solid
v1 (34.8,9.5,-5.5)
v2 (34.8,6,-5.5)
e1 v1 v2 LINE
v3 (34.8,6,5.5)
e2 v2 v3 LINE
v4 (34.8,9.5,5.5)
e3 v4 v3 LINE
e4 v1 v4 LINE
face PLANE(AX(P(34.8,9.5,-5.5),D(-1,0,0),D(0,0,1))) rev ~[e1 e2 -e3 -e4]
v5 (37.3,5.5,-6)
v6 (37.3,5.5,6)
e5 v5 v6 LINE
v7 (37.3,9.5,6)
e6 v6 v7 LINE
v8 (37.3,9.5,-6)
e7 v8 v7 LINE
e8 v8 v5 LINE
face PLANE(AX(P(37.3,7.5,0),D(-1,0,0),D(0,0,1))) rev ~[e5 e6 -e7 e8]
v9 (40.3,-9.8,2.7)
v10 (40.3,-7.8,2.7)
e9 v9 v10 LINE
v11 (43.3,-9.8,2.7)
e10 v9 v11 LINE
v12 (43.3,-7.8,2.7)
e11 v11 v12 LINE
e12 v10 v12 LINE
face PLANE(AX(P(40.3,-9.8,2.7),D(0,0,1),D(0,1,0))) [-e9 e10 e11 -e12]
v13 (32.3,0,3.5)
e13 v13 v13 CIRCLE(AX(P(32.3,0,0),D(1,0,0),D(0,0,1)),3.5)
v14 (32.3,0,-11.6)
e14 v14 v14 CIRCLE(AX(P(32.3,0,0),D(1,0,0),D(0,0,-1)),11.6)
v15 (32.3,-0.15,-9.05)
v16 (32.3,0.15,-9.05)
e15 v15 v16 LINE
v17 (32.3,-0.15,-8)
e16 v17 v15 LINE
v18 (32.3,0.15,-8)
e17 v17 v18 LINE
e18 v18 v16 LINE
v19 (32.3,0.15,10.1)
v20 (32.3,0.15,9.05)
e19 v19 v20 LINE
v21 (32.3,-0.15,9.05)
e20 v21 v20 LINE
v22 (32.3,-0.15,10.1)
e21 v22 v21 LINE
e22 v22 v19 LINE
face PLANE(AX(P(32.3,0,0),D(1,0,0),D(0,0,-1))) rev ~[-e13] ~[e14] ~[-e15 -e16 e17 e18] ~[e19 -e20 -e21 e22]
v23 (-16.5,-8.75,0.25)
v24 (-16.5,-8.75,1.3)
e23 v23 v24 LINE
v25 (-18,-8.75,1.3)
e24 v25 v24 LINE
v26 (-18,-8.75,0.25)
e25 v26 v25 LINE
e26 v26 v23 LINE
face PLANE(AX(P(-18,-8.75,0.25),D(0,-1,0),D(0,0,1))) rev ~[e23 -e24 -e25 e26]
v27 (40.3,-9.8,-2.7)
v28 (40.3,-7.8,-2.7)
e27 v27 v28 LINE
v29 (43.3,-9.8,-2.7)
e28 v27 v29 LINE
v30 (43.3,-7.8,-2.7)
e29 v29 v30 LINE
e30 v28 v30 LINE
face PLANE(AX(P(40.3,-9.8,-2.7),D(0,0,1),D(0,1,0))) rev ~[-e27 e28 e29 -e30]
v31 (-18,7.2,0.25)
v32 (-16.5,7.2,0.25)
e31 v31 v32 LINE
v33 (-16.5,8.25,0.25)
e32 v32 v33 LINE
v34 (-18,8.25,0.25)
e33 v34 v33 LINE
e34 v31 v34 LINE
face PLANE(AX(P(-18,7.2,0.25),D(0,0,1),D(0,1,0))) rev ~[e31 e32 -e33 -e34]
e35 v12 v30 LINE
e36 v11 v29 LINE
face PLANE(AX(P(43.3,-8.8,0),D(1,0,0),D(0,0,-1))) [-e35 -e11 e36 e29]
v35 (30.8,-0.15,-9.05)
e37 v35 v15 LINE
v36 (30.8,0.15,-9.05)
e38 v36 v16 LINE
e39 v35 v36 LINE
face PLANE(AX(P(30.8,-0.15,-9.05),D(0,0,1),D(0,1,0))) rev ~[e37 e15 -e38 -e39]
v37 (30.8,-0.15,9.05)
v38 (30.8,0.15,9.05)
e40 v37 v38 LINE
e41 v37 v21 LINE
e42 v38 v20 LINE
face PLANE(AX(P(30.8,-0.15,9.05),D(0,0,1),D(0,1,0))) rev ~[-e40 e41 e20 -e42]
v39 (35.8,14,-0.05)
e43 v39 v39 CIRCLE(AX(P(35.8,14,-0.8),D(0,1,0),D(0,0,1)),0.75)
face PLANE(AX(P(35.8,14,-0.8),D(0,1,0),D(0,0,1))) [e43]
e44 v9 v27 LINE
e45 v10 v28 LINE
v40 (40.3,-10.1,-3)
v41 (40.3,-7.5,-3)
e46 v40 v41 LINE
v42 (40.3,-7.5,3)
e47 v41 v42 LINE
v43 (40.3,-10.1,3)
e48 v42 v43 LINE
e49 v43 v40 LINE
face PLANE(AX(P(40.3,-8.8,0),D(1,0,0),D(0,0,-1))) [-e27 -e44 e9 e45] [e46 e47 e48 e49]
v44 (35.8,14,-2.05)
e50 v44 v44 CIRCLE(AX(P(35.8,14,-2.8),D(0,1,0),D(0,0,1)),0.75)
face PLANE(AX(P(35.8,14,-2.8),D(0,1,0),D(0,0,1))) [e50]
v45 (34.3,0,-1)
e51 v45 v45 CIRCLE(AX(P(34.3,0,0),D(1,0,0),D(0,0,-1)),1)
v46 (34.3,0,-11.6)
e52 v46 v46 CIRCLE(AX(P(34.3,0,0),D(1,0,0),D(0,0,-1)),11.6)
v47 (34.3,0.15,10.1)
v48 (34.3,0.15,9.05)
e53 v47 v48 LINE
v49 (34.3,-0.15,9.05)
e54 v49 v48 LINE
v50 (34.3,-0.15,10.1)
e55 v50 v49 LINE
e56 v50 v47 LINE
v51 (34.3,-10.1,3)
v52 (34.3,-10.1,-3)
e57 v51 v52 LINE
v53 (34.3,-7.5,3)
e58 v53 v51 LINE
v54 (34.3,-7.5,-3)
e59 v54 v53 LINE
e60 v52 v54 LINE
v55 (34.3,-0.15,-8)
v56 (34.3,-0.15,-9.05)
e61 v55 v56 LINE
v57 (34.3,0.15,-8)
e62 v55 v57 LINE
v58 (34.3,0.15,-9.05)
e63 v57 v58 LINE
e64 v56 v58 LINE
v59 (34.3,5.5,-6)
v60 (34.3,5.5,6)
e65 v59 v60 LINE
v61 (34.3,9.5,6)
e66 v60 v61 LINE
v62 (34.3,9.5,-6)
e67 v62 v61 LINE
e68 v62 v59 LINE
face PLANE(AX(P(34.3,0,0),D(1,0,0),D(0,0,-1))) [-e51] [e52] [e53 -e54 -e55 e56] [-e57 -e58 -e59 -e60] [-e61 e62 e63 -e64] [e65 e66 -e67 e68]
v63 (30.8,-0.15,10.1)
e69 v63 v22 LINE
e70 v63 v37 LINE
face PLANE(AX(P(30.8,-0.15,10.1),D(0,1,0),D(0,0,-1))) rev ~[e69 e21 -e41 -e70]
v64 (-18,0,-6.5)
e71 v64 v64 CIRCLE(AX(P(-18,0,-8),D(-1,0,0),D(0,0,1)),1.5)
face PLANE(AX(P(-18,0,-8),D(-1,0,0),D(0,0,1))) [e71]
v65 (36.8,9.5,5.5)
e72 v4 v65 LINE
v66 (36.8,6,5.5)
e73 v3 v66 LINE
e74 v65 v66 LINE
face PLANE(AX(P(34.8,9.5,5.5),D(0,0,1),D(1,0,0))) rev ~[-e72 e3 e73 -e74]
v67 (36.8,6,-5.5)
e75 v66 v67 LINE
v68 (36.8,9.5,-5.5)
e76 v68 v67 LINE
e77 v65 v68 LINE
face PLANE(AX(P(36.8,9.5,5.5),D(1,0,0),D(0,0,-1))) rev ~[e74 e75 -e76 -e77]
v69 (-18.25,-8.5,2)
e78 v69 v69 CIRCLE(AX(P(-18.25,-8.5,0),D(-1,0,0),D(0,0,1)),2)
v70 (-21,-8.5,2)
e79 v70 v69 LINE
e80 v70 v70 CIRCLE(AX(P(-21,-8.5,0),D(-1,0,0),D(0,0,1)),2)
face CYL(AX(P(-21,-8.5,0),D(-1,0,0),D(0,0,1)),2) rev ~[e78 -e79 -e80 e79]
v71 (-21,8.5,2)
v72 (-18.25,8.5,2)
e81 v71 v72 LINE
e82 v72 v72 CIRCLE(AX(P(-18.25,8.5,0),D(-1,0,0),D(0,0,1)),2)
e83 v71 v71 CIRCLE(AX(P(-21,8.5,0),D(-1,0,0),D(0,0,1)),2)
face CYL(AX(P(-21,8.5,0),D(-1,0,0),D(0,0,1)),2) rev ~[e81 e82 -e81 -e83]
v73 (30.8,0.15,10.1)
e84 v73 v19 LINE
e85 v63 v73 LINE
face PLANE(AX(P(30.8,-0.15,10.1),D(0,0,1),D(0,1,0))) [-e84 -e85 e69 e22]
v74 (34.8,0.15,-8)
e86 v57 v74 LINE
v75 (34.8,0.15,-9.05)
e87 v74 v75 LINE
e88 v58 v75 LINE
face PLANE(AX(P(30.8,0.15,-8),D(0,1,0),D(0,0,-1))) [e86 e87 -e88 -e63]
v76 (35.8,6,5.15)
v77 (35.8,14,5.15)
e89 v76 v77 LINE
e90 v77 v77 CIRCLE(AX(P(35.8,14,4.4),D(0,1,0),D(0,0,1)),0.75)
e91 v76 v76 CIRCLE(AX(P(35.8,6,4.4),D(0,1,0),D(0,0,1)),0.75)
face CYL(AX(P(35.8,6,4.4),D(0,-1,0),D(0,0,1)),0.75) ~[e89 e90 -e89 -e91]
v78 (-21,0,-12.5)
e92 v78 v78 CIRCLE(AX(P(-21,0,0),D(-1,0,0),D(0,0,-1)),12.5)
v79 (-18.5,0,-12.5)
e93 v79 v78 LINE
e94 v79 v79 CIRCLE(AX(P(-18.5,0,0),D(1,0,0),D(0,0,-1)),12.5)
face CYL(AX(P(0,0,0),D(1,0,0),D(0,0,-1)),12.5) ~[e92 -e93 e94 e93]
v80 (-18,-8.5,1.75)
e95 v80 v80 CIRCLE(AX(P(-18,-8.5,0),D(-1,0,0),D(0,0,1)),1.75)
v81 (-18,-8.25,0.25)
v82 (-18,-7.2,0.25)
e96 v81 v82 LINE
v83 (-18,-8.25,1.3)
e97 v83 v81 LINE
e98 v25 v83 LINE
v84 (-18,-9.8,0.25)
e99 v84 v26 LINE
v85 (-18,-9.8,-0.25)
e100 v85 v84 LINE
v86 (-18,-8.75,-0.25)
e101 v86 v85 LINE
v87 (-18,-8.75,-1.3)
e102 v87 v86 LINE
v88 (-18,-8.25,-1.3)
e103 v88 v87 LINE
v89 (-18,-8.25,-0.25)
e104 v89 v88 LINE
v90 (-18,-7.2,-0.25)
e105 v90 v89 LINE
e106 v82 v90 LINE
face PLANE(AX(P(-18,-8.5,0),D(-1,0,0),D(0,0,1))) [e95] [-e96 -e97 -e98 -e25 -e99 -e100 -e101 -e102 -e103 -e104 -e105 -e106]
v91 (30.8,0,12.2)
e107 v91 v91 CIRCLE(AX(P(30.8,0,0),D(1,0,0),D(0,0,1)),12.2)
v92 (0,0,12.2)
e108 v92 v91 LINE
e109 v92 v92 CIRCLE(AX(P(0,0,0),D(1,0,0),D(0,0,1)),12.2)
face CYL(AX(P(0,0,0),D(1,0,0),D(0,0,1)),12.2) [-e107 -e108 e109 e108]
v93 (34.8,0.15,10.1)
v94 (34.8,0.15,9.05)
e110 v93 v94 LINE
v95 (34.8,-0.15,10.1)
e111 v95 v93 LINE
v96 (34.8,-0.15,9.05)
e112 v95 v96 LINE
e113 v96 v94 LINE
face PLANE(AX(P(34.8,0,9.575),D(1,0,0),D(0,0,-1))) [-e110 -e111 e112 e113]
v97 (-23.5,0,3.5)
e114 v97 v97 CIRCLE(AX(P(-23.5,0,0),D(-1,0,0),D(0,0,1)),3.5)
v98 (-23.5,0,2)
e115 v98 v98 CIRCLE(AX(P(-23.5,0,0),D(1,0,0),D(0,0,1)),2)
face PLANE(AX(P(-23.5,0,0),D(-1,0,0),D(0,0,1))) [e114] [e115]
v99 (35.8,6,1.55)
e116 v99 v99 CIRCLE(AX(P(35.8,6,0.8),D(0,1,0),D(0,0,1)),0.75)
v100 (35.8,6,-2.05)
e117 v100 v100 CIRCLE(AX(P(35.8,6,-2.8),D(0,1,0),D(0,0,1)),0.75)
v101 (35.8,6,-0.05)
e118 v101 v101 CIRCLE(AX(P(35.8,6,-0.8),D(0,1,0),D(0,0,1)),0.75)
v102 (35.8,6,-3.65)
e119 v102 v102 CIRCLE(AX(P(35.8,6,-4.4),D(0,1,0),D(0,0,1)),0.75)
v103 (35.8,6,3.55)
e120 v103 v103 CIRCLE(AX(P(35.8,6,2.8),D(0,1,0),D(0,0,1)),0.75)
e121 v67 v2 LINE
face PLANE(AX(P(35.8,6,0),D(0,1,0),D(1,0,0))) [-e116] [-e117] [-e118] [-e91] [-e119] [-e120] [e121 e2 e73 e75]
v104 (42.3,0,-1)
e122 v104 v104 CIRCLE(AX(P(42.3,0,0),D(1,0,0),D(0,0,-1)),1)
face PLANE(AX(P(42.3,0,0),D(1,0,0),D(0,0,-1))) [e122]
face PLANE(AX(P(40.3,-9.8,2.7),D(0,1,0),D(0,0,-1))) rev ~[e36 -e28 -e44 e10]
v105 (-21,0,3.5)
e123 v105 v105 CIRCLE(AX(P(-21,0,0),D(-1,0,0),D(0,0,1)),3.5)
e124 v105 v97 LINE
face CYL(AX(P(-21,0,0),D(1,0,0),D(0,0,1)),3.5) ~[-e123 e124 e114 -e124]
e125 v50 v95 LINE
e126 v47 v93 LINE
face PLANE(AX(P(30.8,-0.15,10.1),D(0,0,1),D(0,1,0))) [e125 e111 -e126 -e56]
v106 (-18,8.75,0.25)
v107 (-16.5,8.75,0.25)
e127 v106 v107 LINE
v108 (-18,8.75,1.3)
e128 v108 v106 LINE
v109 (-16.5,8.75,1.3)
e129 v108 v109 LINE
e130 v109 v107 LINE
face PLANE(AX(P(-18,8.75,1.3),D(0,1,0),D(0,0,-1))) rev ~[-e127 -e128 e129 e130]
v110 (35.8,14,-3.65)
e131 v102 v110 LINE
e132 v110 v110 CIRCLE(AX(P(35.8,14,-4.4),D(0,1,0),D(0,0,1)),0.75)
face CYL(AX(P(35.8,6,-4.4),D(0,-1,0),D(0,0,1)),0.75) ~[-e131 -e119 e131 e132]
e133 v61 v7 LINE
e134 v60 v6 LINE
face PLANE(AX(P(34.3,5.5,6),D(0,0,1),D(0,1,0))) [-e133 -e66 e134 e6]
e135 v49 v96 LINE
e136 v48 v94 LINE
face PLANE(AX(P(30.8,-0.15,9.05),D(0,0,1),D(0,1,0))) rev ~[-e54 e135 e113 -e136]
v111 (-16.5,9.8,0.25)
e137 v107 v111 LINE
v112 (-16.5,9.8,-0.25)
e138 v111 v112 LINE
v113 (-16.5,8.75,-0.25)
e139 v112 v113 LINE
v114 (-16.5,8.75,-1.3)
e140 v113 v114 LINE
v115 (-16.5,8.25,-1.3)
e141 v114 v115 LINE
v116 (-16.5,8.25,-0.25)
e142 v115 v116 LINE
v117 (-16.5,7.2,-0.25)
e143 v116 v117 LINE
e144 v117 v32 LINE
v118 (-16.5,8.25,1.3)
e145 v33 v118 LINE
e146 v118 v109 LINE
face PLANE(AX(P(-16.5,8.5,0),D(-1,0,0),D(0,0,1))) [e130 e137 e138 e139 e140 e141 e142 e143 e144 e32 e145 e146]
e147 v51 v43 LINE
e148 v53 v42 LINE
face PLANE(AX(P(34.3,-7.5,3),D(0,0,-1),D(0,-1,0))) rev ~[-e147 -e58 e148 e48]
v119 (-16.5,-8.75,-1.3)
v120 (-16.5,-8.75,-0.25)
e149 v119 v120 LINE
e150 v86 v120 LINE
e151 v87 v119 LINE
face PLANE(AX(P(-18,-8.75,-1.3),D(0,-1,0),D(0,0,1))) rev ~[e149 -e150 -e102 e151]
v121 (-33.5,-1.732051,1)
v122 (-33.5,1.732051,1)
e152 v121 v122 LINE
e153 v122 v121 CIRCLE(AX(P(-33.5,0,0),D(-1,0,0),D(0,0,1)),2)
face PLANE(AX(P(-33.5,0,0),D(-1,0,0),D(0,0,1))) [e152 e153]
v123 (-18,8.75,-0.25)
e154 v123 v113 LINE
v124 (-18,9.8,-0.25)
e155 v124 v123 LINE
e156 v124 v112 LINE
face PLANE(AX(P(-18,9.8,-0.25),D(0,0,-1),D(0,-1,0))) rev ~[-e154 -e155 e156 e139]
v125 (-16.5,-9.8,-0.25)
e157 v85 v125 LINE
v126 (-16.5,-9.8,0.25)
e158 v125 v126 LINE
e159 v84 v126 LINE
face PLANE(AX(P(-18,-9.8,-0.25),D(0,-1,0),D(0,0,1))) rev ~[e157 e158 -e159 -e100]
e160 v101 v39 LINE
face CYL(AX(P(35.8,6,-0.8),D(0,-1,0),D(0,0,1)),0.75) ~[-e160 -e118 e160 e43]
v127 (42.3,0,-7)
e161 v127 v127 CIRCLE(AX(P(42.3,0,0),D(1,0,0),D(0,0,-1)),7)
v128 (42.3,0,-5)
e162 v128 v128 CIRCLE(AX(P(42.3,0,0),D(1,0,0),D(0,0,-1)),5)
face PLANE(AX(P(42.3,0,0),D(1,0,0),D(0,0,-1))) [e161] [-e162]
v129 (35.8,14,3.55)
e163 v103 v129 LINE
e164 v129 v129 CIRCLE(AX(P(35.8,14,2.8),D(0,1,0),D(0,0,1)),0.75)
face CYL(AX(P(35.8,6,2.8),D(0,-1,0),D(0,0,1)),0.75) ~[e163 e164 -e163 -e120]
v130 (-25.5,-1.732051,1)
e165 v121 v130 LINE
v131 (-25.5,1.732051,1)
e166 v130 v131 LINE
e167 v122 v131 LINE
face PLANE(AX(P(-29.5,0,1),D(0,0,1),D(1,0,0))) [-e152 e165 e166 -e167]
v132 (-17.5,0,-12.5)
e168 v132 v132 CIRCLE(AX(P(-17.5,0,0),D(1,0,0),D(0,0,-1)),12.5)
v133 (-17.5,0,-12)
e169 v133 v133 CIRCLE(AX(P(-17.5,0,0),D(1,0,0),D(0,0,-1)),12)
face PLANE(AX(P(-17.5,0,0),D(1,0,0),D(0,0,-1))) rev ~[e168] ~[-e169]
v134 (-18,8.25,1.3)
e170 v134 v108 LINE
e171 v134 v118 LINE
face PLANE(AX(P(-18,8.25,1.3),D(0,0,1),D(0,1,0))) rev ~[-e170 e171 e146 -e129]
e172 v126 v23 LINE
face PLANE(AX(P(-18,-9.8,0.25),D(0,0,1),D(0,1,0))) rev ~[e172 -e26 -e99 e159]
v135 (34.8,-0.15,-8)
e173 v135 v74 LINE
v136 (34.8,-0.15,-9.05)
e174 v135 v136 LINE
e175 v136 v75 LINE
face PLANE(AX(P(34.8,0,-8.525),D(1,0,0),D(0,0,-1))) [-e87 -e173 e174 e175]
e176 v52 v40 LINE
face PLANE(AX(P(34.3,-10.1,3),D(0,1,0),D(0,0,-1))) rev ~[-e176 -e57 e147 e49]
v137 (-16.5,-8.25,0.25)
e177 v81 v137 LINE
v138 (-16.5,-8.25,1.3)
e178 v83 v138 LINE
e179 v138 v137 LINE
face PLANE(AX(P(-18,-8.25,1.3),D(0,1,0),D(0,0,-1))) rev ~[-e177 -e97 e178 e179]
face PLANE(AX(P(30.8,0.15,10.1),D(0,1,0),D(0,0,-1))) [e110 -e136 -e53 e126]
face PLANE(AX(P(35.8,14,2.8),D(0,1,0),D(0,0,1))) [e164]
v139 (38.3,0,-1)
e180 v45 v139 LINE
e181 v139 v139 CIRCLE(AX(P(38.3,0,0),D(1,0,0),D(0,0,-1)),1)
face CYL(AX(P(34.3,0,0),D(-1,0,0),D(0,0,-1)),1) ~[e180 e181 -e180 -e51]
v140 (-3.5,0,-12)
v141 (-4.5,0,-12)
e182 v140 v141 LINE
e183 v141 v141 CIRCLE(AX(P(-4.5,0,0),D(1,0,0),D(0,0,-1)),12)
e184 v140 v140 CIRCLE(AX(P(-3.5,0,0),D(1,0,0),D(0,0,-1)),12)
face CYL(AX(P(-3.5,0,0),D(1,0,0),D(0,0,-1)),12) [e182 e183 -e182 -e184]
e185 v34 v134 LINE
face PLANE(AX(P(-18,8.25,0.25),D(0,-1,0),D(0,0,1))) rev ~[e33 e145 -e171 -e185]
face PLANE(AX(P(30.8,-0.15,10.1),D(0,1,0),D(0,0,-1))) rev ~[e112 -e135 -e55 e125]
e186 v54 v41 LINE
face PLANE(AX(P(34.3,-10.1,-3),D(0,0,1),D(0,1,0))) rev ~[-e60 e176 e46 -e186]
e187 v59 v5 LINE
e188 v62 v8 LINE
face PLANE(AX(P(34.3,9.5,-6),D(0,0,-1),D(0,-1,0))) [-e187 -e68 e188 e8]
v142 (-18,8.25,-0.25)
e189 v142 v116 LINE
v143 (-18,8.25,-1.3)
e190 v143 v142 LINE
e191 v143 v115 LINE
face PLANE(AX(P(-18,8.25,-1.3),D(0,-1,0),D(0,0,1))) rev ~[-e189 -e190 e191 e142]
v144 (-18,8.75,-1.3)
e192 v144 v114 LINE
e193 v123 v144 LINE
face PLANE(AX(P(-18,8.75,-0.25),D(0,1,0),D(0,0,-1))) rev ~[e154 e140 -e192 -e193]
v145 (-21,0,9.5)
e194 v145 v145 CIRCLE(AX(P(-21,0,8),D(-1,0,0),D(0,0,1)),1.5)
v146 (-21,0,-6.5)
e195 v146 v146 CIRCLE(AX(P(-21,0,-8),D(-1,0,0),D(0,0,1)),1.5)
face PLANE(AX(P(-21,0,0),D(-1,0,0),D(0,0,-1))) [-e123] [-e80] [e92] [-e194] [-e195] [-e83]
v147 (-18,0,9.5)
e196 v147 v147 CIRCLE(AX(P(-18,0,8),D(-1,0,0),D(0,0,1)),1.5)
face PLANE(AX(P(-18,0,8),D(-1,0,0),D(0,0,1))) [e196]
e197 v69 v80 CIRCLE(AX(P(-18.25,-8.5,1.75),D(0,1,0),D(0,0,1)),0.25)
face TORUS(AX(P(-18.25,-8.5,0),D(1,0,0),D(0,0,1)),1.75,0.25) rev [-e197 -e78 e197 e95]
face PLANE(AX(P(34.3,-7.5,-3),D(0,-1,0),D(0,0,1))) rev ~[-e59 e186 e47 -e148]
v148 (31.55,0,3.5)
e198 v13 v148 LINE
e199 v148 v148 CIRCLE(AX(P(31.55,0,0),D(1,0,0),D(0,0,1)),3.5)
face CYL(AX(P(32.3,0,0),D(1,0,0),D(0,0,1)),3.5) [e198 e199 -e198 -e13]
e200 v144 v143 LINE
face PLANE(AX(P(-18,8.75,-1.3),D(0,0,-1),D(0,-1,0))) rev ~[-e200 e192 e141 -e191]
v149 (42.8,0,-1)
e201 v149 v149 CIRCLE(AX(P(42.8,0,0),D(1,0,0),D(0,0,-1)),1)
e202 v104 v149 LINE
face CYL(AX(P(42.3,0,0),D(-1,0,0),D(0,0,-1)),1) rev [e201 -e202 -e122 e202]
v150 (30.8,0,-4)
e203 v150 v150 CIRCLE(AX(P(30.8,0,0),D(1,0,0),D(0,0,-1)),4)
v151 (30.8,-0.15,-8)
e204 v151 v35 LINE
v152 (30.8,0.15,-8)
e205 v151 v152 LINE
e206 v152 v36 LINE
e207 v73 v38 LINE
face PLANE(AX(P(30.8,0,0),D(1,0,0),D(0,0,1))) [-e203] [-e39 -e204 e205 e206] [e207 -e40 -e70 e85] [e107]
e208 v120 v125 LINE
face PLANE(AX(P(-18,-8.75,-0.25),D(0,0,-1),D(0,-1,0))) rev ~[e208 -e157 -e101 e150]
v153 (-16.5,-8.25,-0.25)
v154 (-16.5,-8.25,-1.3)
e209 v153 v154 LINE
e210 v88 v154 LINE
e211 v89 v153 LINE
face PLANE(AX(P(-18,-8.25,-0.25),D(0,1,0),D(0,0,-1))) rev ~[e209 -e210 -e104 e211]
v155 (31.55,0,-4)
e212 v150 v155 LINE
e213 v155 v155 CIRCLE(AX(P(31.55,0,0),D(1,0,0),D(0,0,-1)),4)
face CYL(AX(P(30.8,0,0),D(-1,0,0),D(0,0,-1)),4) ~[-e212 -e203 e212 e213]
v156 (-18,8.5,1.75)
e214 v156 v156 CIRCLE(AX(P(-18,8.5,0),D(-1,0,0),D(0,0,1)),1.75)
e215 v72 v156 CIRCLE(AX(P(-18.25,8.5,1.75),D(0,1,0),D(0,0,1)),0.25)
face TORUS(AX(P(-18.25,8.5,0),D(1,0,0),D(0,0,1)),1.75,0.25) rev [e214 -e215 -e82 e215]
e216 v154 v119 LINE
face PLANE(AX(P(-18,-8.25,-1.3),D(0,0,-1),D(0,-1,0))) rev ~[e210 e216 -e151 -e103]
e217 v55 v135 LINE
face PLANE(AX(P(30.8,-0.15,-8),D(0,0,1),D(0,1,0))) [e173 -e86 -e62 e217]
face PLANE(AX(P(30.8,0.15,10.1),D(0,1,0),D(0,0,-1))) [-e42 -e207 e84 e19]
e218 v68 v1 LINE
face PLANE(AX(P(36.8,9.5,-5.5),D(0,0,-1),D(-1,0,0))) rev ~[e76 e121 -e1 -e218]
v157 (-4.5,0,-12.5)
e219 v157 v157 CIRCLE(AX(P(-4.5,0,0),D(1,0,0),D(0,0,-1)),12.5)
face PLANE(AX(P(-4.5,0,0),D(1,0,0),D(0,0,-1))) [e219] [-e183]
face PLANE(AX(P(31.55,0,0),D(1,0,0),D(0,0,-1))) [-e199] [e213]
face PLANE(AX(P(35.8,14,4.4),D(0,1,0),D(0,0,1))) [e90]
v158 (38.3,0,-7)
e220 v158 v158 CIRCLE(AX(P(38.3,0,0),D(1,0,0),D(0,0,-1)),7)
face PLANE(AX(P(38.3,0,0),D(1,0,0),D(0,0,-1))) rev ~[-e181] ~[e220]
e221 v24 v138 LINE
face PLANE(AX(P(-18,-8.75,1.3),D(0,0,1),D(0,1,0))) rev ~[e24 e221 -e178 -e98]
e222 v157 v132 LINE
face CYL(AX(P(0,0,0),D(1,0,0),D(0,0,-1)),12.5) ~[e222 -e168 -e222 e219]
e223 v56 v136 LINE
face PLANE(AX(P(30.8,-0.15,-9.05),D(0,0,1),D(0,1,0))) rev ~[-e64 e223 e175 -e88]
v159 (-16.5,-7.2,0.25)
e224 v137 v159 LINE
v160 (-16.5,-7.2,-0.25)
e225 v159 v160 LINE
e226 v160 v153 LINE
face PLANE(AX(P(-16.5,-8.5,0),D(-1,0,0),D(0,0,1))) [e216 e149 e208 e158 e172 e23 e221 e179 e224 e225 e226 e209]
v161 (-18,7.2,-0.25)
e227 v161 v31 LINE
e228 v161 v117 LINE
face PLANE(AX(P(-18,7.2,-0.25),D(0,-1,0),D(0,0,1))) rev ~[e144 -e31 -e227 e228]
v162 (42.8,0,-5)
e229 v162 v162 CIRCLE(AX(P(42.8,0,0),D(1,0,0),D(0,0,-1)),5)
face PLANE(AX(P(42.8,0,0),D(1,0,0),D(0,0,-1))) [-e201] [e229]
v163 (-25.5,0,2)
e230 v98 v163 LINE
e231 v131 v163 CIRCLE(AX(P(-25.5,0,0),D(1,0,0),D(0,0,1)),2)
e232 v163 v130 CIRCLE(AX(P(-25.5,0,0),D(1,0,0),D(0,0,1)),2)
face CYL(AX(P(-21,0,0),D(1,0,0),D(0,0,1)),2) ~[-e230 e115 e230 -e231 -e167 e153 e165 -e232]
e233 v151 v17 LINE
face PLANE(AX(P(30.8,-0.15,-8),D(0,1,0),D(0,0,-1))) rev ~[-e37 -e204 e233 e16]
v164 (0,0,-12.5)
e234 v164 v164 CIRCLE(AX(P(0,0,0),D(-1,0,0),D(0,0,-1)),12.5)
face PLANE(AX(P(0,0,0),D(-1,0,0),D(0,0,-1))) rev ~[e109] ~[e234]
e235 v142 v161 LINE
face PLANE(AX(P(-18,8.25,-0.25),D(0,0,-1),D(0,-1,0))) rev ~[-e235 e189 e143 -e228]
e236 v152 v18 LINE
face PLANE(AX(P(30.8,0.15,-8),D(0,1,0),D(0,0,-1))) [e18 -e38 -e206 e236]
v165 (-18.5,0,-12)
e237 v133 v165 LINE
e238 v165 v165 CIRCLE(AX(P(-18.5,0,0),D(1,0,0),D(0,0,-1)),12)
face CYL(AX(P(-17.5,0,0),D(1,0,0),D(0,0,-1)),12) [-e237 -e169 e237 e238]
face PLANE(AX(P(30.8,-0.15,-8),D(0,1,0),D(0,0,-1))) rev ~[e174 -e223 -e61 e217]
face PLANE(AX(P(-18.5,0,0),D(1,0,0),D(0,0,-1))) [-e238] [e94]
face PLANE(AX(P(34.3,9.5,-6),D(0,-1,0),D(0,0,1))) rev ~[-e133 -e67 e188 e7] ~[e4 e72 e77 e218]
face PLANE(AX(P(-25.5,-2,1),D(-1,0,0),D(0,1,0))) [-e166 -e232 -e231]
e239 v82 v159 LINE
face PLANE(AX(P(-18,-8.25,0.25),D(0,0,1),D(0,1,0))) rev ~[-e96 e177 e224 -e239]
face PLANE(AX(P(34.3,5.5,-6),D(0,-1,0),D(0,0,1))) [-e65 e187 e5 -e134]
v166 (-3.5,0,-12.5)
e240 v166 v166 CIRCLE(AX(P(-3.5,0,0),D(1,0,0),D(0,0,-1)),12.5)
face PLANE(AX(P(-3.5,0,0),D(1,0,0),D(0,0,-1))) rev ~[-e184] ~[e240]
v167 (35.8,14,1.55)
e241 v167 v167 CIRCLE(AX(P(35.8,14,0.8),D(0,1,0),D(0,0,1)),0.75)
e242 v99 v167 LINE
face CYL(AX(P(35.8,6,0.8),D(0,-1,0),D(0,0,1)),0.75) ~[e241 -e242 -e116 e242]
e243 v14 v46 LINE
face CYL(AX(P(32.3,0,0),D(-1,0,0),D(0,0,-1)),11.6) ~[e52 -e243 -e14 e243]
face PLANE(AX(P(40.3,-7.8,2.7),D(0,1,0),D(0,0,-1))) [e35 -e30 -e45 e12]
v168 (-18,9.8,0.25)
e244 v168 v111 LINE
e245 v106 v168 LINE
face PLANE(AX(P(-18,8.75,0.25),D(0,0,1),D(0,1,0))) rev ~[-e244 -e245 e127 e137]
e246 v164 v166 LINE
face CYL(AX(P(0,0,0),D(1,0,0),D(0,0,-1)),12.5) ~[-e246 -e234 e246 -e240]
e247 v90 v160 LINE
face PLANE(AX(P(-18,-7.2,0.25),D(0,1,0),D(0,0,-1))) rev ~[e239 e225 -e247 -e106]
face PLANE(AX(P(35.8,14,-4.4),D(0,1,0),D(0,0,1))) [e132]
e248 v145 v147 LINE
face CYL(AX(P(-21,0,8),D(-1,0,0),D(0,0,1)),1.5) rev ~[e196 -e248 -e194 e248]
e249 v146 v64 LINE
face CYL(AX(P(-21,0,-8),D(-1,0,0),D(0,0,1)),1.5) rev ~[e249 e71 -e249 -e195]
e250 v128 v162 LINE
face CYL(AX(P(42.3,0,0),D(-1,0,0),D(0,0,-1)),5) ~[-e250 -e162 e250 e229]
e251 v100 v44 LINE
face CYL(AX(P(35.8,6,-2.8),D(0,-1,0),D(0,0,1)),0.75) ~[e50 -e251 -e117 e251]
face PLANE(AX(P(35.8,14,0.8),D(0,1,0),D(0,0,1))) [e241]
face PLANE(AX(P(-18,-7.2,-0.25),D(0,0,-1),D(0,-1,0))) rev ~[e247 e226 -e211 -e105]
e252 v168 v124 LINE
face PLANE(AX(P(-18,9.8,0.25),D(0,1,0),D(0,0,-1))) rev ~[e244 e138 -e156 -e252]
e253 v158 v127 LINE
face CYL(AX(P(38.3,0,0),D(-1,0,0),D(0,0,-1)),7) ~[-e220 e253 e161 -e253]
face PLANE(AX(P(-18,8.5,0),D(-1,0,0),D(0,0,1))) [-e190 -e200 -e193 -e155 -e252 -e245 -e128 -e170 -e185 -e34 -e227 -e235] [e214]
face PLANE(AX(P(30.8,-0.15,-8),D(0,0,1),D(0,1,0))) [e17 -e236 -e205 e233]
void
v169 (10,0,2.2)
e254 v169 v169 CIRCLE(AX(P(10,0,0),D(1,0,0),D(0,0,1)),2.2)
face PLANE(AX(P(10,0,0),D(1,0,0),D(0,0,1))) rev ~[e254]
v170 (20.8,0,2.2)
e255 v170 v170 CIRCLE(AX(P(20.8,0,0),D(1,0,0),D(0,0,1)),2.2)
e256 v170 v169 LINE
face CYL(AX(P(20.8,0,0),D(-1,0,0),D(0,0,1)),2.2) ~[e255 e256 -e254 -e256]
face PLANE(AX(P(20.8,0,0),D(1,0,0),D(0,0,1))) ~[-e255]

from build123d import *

# Parameters (mm, degrees)
CROQUIS3_R               = 12.5
SALIENTE_EXTRUIR1_DEPTH  = 21
CROQUIS6_R               = 12.5
CROQUIS6_R_2             = 12
CORTAR_EXTRUIR3_DEPTH    = 1
CROQUIS7_R               = 12.5
CROQUIS7_R_2             = 12
CORTAR_EXTRUIR4_DEPTH    = 1
CROQUIS8_R               = 3.5
SALIENTE_EXTRUIR3_DEPTH  = 2.5
CROQUIS9_R               = 2
SALIENTE_EXTRUIR4_DEPTH  = 12.5
CROQUIS10_W              = 8
CROQUIS10_H              = 4
CORTAR_EXTRUIR5_DEPTH    = 5
CROQUIS11_R              = 1.5
CORTAR_EXTRUIR6_DEPTH    = 3
CROQUIS12_R              = 2
CORTAR_EXTRUIR7_DEPTH    = 3
CORTAR_EXTRUIR8_DEPTH    = 1.5
CORTAR_EXTRUIR9_DEPTH    = 1.5
REDONDEO1_R              = 0.25
CROQUIS16_W              = 1.05
CROQUIS16_H              = 0.3
SALIENTE_EXTRUIR5_DEPTH  = 4
CROQUIS17_R              = 4
SALIENTE_EXTRUIR6_DEPTH  = 0.75
SALIENTE_EXTRUIR7_START  = 0.75
CROQUIS18_R              = 3.5
SALIENTE_EXTRUIR7_DEPTH  = 0.75
CROQUIS19_R              = 11.6
SALIENTE_EXTRUIR8_DEPTH  = 2
CROQUIS20_R              = 1
SALIENTE_EXTRUIR9_DEPTH  = 4
CROQUIS21_R              = 7
SALIENTE_EXTRUIR10_DEPTH = 4
CROQUIS22_R              = 5
SALIENTE_EXTRUIR11_DEPTH = 0.5
CORTAR_EXTRUIR10_START   = -0.5
CROQUIS23_R              = 1
CORTAR_EXTRUIR10_DEPTH   = 0.5
SALIENTE_EXTRUIR12_DEPTH = 3
CORTAR_EXTRUIR11_DEPTH   = 3.5
CROQUIS26_R              = 0.75
SALIENTE_EXTRUIR13_DEPTH = 8
SALIENTE_EXTRUIR14_DEPTH = 6
CROQUIS28_W              = 5.4
CROQUIS28_H              = 2
SALIENTE_EXTRUIR15_DEPTH = 3


with BuildPart() as part:
    # Croquis1 → Revolución-Lámina1 (revolve)
    with BuildSketch(Plane.XY, mode=Mode.PRIVATE) as revoluci_n_l_mina1_sk:
        Polygon((0, 0), (0, 12.2), (30.8, 12.2), (30.8, 0), (20.8, 0), (20.8, 2.2), (10, 2.2), (10, 0), align=None)
    revolve(revoluci_n_l_mina1_sk.sketch.rotate(Axis((0, 0, 0), (1, 0, 0)), 90), axis=Axis((0, 0, 0), (1, 0, 0)))

    # Croquis3 → Saliente-Extruir1 (add)
    with BuildSketch(Plane.ZY):
        with Locations(Location((0, 0, 0), (0, 0, 180))):
            Circle(CROQUIS3_R)
    extrude(amount=SALIENTE_EXTRUIR1_DEPTH)

    # Croquis6 → Cortar-Extruir3 (cut)
    with BuildSketch(Plane(origin=(-17.5, 0, 0), x_dir=(0, 0, -1), z_dir=(1, 0, 0))):
        Circle(CROQUIS6_R)
        Circle(CROQUIS6_R_2, mode=Mode.SUBTRACT)
    extrude(amount=-CORTAR_EXTRUIR3_DEPTH, mode=Mode.SUBTRACT)

    # Croquis7 → Cortar-Extruir4 (cut)
    with BuildSketch(Plane(origin=(-3.5, 0, 0), x_dir=(0, 0, -1), z_dir=(1, 0, 0))):
        Circle(CROQUIS7_R)
        Circle(CROQUIS7_R_2, mode=Mode.SUBTRACT)
    extrude(amount=-CORTAR_EXTRUIR4_DEPTH, mode=Mode.SUBTRACT)

    # Croquis8 → Saliente-Extruir3 (add)
    with BuildSketch(Plane.ZY.offset(21)):
        Circle(CROQUIS8_R)
    extrude(amount=SALIENTE_EXTRUIR3_DEPTH)

    # Croquis9 → Saliente-Extruir4 (add)
    with BuildSketch(Plane.ZY.offset(21)):
        Circle(CROQUIS9_R)
    extrude(amount=SALIENTE_EXTRUIR4_DEPTH)

    # Croquis10 → Cortar-Extruir5 (cut)
    with BuildSketch(Plane.XY.offset(1)):
        with Locations((-29.5, 0)):
            Rectangle(CROQUIS10_W, CROQUIS10_H)
    extrude(amount=CORTAR_EXTRUIR5_DEPTH, mode=Mode.SUBTRACT)

    # Croquis11 → Cortar-Extruir6 (cut)
    with BuildSketch(Plane.ZY.offset(21)):
        with Locations((-8, 0)):
            Circle(CROQUIS11_R)
        with Locations((8, 0)):
            Circle(CROQUIS11_R)
    extrude(amount=-CORTAR_EXTRUIR6_DEPTH, mode=Mode.SUBTRACT)

    # Croquis12 → Cortar-Extruir7 (cut)
    with BuildSketch(Plane.ZY.offset(21)):
        with Locations((0, -8.5)):
            Circle(CROQUIS12_R)
        with Locations((0, 8.5)):
            Circle(CROQUIS12_R)
    extrude(amount=-CORTAR_EXTRUIR7_DEPTH, mode=Mode.SUBTRACT)

    # Croquis14 → Cortar-Extruir8 (cut)
    with BuildSketch(Plane.ZY.offset(18)):
        Polygon((-0.25, 8.25), (-0.25, 7.2), (0.25, 7.2), (0.25, 8.25), (1.3, 8.25), (1.3, 8.75), (0.25, 8.75), (0.25, 9.8), (-0.25, 9.8), (-0.25, 8.75), (-1.3, 8.75), (-1.3, 8.25), align=None)
    extrude(amount=-CORTAR_EXTRUIR8_DEPTH, mode=Mode.SUBTRACT)

    # Croquis15 → Cortar-Extruir9 (cut)
    with BuildSketch(Plane.ZY.offset(18)):
        Polygon((-0.25, -8.75), (-0.25, -9.8), (0.25, -9.8), (0.25, -8.75), (1.3, -8.75), (1.3, -8.25), (0.25, -8.25), (0.25, -7.2), (-0.25, -7.2), (-0.25, -8.25), (-1.3, -8.25), (-1.3, -8.75), align=None)
    extrude(amount=-CORTAR_EXTRUIR9_DEPTH, mode=Mode.SUBTRACT)

    # Redondeo1
    redondeo1_edges = [part.edges().sort_by_distance(p)[0] for p in [
        (-18, -8.5, -2),
        (-18, 8.5, -2),
    ]]
    fillet(redondeo1_edges, radius=REDONDEO1_R)

    # Croquis16 → Saliente-Extruir5 (add)
    with BuildSketch(Plane(origin=(30.8, 0, 0), x_dir=(0, 0, -1), z_dir=(1, 0, 0))):
        with Locations((-9.575, 0)):
            Rectangle(CROQUIS16_W, CROQUIS16_H)
        with Locations((8.525, 0)):
            Rectangle(CROQUIS16_W, CROQUIS16_H)
    extrude(amount=SALIENTE_EXTRUIR5_DEPTH)

    # Croquis17 → Saliente-Extruir6 (add)
    with BuildSketch(Plane(origin=(30.8, 0, 0), x_dir=(0, 0, -1), z_dir=(1, 0, 0))):
        Circle(CROQUIS17_R)
    extrude(amount=SALIENTE_EXTRUIR6_DEPTH)

    # Croquis18 → Saliente-Extruir7 (add)
    with BuildSketch(Plane(origin=(31.55, 0, 0), x_dir=(0, 0, -1), z_dir=(1, 0, 0)).offset(SALIENTE_EXTRUIR7_START)):
        with Locations(Location((0, 0, 0), (0, 0, 180))):
            Circle(CROQUIS18_R)
    extrude(amount=-SALIENTE_EXTRUIR7_DEPTH)

    # Croquis19 → Saliente-Extruir8 (add)
    with BuildSketch(Plane(origin=(32.3, 0, 0), x_dir=(0, 0, -1), z_dir=(1, 0, 0))):
        Circle(CROQUIS19_R)
    extrude(amount=SALIENTE_EXTRUIR8_DEPTH)

    # Croquis20 → Saliente-Extruir9 (add)
    with BuildSketch(Plane(origin=(34.3, 0, 0), x_dir=(0, 0, -1), z_dir=(1, 0, 0))):
        Circle(CROQUIS20_R)
    extrude(amount=SALIENTE_EXTRUIR9_DEPTH)

    # Croquis21 → Saliente-Extruir10 (add)
    with BuildSketch(Plane(origin=(38.3, 0, 0), x_dir=(0, 0, -1), z_dir=(1, 0, 0))):
        Circle(CROQUIS21_R)
    extrude(amount=SALIENTE_EXTRUIR10_DEPTH)

    # Croquis22 → Saliente-Extruir11 (add)
    with BuildSketch(Plane(origin=(42.3, 0, 0), x_dir=(0, 0, -1), z_dir=(1, 0, 0))):
        Circle(CROQUIS22_R)
    extrude(amount=SALIENTE_EXTRUIR11_DEPTH)

    # Croquis23 → Cortar-Extruir10 (cut)
    with BuildSketch(Plane(origin=(42.8, 0, 0), x_dir=(0, 0, -1), z_dir=(1, 0, 0)).offset(CORTAR_EXTRUIR10_START)):
        Circle(CROQUIS23_R)
    extrude(amount=CORTAR_EXTRUIR10_DEPTH, mode=Mode.SUBTRACT)

    # Croquis24 → Saliente-Extruir12 (add)
    with BuildSketch(Plane(origin=(34.3, 0, 0), x_dir=(0, 0, -1), z_dir=(1, 0, 0))):
        Polygon((0, 9.5), (6, 9.5), (6, 5.5), (-6, 5.5), (-6, 9.5), align=None)
    extrude(amount=SALIENTE_EXTRUIR12_DEPTH)

    # Croquis25 → Cortar-Extruir11 (cut)
    with BuildSketch(Plane(origin=(0, 9.5, 0), x_dir=(1, 0, 0), z_dir=(0, 1, 0))):
        Polygon((36.8, -5.5), (36.8, 5.5), (34.8, 5.5), (34.8, -5.5), (35.8, -5.5), align=None)
    extrude(amount=-CORTAR_EXTRUIR11_DEPTH, mode=Mode.SUBTRACT)

    # Croquis26 → Saliente-Extruir13 (add)
    with BuildSketch(Plane(origin=(0, 6, 0), x_dir=(1, 0, 0), z_dir=(0, 1, 0))):
        with Locations(Location((35.8, -4.4, 0), (0, 0, 270))):
            Circle(CROQUIS26_R)
        with Locations(Location((35.8, -2.8, 0), (0, 0, 270))):
            Circle(CROQUIS26_R)
        with Locations(Location((35.8, -0.8, 0), (0, 0, 270))):
            Circle(CROQUIS26_R)
        with Locations(Location((35.8, 0.8, 0), (0, 0, 270))):
            Circle(CROQUIS26_R)
        with Locations(Location((35.8, 2.8, 0), (0, 0, 270))):
            Circle(CROQUIS26_R)
        with Locations(Location((35.8, 4.4, 0), (0, 0, 270))):
            Circle(CROQUIS26_R)
    extrude(amount=SALIENTE_EXTRUIR13_DEPTH)

    # Croquis27 → Saliente-Extruir14 (add)
    with BuildSketch(Plane(origin=(34.3, 0, 0), x_dir=(0, 0, -1), z_dir=(1, 0, 0))):
        Polygon((0, -10.1), (3, -10.1), (3, -7.5), (-3, -7.5), (-3, -10.1), align=None)
    extrude(amount=SALIENTE_EXTRUIR14_DEPTH)

    # Croquis28 → Saliente-Extruir15 (add)
    with BuildSketch(Plane(origin=(40.3, 0, 0), x_dir=(0, 0, -1), z_dir=(1, 0, 0))):
        with Locations((0, -8.8)):
            Rectangle(CROQUIS28_W, CROQUIS28_H)
    extrude(amount=SALIENTE_EXTRUIR15_DEPTH)


solid = part.part
